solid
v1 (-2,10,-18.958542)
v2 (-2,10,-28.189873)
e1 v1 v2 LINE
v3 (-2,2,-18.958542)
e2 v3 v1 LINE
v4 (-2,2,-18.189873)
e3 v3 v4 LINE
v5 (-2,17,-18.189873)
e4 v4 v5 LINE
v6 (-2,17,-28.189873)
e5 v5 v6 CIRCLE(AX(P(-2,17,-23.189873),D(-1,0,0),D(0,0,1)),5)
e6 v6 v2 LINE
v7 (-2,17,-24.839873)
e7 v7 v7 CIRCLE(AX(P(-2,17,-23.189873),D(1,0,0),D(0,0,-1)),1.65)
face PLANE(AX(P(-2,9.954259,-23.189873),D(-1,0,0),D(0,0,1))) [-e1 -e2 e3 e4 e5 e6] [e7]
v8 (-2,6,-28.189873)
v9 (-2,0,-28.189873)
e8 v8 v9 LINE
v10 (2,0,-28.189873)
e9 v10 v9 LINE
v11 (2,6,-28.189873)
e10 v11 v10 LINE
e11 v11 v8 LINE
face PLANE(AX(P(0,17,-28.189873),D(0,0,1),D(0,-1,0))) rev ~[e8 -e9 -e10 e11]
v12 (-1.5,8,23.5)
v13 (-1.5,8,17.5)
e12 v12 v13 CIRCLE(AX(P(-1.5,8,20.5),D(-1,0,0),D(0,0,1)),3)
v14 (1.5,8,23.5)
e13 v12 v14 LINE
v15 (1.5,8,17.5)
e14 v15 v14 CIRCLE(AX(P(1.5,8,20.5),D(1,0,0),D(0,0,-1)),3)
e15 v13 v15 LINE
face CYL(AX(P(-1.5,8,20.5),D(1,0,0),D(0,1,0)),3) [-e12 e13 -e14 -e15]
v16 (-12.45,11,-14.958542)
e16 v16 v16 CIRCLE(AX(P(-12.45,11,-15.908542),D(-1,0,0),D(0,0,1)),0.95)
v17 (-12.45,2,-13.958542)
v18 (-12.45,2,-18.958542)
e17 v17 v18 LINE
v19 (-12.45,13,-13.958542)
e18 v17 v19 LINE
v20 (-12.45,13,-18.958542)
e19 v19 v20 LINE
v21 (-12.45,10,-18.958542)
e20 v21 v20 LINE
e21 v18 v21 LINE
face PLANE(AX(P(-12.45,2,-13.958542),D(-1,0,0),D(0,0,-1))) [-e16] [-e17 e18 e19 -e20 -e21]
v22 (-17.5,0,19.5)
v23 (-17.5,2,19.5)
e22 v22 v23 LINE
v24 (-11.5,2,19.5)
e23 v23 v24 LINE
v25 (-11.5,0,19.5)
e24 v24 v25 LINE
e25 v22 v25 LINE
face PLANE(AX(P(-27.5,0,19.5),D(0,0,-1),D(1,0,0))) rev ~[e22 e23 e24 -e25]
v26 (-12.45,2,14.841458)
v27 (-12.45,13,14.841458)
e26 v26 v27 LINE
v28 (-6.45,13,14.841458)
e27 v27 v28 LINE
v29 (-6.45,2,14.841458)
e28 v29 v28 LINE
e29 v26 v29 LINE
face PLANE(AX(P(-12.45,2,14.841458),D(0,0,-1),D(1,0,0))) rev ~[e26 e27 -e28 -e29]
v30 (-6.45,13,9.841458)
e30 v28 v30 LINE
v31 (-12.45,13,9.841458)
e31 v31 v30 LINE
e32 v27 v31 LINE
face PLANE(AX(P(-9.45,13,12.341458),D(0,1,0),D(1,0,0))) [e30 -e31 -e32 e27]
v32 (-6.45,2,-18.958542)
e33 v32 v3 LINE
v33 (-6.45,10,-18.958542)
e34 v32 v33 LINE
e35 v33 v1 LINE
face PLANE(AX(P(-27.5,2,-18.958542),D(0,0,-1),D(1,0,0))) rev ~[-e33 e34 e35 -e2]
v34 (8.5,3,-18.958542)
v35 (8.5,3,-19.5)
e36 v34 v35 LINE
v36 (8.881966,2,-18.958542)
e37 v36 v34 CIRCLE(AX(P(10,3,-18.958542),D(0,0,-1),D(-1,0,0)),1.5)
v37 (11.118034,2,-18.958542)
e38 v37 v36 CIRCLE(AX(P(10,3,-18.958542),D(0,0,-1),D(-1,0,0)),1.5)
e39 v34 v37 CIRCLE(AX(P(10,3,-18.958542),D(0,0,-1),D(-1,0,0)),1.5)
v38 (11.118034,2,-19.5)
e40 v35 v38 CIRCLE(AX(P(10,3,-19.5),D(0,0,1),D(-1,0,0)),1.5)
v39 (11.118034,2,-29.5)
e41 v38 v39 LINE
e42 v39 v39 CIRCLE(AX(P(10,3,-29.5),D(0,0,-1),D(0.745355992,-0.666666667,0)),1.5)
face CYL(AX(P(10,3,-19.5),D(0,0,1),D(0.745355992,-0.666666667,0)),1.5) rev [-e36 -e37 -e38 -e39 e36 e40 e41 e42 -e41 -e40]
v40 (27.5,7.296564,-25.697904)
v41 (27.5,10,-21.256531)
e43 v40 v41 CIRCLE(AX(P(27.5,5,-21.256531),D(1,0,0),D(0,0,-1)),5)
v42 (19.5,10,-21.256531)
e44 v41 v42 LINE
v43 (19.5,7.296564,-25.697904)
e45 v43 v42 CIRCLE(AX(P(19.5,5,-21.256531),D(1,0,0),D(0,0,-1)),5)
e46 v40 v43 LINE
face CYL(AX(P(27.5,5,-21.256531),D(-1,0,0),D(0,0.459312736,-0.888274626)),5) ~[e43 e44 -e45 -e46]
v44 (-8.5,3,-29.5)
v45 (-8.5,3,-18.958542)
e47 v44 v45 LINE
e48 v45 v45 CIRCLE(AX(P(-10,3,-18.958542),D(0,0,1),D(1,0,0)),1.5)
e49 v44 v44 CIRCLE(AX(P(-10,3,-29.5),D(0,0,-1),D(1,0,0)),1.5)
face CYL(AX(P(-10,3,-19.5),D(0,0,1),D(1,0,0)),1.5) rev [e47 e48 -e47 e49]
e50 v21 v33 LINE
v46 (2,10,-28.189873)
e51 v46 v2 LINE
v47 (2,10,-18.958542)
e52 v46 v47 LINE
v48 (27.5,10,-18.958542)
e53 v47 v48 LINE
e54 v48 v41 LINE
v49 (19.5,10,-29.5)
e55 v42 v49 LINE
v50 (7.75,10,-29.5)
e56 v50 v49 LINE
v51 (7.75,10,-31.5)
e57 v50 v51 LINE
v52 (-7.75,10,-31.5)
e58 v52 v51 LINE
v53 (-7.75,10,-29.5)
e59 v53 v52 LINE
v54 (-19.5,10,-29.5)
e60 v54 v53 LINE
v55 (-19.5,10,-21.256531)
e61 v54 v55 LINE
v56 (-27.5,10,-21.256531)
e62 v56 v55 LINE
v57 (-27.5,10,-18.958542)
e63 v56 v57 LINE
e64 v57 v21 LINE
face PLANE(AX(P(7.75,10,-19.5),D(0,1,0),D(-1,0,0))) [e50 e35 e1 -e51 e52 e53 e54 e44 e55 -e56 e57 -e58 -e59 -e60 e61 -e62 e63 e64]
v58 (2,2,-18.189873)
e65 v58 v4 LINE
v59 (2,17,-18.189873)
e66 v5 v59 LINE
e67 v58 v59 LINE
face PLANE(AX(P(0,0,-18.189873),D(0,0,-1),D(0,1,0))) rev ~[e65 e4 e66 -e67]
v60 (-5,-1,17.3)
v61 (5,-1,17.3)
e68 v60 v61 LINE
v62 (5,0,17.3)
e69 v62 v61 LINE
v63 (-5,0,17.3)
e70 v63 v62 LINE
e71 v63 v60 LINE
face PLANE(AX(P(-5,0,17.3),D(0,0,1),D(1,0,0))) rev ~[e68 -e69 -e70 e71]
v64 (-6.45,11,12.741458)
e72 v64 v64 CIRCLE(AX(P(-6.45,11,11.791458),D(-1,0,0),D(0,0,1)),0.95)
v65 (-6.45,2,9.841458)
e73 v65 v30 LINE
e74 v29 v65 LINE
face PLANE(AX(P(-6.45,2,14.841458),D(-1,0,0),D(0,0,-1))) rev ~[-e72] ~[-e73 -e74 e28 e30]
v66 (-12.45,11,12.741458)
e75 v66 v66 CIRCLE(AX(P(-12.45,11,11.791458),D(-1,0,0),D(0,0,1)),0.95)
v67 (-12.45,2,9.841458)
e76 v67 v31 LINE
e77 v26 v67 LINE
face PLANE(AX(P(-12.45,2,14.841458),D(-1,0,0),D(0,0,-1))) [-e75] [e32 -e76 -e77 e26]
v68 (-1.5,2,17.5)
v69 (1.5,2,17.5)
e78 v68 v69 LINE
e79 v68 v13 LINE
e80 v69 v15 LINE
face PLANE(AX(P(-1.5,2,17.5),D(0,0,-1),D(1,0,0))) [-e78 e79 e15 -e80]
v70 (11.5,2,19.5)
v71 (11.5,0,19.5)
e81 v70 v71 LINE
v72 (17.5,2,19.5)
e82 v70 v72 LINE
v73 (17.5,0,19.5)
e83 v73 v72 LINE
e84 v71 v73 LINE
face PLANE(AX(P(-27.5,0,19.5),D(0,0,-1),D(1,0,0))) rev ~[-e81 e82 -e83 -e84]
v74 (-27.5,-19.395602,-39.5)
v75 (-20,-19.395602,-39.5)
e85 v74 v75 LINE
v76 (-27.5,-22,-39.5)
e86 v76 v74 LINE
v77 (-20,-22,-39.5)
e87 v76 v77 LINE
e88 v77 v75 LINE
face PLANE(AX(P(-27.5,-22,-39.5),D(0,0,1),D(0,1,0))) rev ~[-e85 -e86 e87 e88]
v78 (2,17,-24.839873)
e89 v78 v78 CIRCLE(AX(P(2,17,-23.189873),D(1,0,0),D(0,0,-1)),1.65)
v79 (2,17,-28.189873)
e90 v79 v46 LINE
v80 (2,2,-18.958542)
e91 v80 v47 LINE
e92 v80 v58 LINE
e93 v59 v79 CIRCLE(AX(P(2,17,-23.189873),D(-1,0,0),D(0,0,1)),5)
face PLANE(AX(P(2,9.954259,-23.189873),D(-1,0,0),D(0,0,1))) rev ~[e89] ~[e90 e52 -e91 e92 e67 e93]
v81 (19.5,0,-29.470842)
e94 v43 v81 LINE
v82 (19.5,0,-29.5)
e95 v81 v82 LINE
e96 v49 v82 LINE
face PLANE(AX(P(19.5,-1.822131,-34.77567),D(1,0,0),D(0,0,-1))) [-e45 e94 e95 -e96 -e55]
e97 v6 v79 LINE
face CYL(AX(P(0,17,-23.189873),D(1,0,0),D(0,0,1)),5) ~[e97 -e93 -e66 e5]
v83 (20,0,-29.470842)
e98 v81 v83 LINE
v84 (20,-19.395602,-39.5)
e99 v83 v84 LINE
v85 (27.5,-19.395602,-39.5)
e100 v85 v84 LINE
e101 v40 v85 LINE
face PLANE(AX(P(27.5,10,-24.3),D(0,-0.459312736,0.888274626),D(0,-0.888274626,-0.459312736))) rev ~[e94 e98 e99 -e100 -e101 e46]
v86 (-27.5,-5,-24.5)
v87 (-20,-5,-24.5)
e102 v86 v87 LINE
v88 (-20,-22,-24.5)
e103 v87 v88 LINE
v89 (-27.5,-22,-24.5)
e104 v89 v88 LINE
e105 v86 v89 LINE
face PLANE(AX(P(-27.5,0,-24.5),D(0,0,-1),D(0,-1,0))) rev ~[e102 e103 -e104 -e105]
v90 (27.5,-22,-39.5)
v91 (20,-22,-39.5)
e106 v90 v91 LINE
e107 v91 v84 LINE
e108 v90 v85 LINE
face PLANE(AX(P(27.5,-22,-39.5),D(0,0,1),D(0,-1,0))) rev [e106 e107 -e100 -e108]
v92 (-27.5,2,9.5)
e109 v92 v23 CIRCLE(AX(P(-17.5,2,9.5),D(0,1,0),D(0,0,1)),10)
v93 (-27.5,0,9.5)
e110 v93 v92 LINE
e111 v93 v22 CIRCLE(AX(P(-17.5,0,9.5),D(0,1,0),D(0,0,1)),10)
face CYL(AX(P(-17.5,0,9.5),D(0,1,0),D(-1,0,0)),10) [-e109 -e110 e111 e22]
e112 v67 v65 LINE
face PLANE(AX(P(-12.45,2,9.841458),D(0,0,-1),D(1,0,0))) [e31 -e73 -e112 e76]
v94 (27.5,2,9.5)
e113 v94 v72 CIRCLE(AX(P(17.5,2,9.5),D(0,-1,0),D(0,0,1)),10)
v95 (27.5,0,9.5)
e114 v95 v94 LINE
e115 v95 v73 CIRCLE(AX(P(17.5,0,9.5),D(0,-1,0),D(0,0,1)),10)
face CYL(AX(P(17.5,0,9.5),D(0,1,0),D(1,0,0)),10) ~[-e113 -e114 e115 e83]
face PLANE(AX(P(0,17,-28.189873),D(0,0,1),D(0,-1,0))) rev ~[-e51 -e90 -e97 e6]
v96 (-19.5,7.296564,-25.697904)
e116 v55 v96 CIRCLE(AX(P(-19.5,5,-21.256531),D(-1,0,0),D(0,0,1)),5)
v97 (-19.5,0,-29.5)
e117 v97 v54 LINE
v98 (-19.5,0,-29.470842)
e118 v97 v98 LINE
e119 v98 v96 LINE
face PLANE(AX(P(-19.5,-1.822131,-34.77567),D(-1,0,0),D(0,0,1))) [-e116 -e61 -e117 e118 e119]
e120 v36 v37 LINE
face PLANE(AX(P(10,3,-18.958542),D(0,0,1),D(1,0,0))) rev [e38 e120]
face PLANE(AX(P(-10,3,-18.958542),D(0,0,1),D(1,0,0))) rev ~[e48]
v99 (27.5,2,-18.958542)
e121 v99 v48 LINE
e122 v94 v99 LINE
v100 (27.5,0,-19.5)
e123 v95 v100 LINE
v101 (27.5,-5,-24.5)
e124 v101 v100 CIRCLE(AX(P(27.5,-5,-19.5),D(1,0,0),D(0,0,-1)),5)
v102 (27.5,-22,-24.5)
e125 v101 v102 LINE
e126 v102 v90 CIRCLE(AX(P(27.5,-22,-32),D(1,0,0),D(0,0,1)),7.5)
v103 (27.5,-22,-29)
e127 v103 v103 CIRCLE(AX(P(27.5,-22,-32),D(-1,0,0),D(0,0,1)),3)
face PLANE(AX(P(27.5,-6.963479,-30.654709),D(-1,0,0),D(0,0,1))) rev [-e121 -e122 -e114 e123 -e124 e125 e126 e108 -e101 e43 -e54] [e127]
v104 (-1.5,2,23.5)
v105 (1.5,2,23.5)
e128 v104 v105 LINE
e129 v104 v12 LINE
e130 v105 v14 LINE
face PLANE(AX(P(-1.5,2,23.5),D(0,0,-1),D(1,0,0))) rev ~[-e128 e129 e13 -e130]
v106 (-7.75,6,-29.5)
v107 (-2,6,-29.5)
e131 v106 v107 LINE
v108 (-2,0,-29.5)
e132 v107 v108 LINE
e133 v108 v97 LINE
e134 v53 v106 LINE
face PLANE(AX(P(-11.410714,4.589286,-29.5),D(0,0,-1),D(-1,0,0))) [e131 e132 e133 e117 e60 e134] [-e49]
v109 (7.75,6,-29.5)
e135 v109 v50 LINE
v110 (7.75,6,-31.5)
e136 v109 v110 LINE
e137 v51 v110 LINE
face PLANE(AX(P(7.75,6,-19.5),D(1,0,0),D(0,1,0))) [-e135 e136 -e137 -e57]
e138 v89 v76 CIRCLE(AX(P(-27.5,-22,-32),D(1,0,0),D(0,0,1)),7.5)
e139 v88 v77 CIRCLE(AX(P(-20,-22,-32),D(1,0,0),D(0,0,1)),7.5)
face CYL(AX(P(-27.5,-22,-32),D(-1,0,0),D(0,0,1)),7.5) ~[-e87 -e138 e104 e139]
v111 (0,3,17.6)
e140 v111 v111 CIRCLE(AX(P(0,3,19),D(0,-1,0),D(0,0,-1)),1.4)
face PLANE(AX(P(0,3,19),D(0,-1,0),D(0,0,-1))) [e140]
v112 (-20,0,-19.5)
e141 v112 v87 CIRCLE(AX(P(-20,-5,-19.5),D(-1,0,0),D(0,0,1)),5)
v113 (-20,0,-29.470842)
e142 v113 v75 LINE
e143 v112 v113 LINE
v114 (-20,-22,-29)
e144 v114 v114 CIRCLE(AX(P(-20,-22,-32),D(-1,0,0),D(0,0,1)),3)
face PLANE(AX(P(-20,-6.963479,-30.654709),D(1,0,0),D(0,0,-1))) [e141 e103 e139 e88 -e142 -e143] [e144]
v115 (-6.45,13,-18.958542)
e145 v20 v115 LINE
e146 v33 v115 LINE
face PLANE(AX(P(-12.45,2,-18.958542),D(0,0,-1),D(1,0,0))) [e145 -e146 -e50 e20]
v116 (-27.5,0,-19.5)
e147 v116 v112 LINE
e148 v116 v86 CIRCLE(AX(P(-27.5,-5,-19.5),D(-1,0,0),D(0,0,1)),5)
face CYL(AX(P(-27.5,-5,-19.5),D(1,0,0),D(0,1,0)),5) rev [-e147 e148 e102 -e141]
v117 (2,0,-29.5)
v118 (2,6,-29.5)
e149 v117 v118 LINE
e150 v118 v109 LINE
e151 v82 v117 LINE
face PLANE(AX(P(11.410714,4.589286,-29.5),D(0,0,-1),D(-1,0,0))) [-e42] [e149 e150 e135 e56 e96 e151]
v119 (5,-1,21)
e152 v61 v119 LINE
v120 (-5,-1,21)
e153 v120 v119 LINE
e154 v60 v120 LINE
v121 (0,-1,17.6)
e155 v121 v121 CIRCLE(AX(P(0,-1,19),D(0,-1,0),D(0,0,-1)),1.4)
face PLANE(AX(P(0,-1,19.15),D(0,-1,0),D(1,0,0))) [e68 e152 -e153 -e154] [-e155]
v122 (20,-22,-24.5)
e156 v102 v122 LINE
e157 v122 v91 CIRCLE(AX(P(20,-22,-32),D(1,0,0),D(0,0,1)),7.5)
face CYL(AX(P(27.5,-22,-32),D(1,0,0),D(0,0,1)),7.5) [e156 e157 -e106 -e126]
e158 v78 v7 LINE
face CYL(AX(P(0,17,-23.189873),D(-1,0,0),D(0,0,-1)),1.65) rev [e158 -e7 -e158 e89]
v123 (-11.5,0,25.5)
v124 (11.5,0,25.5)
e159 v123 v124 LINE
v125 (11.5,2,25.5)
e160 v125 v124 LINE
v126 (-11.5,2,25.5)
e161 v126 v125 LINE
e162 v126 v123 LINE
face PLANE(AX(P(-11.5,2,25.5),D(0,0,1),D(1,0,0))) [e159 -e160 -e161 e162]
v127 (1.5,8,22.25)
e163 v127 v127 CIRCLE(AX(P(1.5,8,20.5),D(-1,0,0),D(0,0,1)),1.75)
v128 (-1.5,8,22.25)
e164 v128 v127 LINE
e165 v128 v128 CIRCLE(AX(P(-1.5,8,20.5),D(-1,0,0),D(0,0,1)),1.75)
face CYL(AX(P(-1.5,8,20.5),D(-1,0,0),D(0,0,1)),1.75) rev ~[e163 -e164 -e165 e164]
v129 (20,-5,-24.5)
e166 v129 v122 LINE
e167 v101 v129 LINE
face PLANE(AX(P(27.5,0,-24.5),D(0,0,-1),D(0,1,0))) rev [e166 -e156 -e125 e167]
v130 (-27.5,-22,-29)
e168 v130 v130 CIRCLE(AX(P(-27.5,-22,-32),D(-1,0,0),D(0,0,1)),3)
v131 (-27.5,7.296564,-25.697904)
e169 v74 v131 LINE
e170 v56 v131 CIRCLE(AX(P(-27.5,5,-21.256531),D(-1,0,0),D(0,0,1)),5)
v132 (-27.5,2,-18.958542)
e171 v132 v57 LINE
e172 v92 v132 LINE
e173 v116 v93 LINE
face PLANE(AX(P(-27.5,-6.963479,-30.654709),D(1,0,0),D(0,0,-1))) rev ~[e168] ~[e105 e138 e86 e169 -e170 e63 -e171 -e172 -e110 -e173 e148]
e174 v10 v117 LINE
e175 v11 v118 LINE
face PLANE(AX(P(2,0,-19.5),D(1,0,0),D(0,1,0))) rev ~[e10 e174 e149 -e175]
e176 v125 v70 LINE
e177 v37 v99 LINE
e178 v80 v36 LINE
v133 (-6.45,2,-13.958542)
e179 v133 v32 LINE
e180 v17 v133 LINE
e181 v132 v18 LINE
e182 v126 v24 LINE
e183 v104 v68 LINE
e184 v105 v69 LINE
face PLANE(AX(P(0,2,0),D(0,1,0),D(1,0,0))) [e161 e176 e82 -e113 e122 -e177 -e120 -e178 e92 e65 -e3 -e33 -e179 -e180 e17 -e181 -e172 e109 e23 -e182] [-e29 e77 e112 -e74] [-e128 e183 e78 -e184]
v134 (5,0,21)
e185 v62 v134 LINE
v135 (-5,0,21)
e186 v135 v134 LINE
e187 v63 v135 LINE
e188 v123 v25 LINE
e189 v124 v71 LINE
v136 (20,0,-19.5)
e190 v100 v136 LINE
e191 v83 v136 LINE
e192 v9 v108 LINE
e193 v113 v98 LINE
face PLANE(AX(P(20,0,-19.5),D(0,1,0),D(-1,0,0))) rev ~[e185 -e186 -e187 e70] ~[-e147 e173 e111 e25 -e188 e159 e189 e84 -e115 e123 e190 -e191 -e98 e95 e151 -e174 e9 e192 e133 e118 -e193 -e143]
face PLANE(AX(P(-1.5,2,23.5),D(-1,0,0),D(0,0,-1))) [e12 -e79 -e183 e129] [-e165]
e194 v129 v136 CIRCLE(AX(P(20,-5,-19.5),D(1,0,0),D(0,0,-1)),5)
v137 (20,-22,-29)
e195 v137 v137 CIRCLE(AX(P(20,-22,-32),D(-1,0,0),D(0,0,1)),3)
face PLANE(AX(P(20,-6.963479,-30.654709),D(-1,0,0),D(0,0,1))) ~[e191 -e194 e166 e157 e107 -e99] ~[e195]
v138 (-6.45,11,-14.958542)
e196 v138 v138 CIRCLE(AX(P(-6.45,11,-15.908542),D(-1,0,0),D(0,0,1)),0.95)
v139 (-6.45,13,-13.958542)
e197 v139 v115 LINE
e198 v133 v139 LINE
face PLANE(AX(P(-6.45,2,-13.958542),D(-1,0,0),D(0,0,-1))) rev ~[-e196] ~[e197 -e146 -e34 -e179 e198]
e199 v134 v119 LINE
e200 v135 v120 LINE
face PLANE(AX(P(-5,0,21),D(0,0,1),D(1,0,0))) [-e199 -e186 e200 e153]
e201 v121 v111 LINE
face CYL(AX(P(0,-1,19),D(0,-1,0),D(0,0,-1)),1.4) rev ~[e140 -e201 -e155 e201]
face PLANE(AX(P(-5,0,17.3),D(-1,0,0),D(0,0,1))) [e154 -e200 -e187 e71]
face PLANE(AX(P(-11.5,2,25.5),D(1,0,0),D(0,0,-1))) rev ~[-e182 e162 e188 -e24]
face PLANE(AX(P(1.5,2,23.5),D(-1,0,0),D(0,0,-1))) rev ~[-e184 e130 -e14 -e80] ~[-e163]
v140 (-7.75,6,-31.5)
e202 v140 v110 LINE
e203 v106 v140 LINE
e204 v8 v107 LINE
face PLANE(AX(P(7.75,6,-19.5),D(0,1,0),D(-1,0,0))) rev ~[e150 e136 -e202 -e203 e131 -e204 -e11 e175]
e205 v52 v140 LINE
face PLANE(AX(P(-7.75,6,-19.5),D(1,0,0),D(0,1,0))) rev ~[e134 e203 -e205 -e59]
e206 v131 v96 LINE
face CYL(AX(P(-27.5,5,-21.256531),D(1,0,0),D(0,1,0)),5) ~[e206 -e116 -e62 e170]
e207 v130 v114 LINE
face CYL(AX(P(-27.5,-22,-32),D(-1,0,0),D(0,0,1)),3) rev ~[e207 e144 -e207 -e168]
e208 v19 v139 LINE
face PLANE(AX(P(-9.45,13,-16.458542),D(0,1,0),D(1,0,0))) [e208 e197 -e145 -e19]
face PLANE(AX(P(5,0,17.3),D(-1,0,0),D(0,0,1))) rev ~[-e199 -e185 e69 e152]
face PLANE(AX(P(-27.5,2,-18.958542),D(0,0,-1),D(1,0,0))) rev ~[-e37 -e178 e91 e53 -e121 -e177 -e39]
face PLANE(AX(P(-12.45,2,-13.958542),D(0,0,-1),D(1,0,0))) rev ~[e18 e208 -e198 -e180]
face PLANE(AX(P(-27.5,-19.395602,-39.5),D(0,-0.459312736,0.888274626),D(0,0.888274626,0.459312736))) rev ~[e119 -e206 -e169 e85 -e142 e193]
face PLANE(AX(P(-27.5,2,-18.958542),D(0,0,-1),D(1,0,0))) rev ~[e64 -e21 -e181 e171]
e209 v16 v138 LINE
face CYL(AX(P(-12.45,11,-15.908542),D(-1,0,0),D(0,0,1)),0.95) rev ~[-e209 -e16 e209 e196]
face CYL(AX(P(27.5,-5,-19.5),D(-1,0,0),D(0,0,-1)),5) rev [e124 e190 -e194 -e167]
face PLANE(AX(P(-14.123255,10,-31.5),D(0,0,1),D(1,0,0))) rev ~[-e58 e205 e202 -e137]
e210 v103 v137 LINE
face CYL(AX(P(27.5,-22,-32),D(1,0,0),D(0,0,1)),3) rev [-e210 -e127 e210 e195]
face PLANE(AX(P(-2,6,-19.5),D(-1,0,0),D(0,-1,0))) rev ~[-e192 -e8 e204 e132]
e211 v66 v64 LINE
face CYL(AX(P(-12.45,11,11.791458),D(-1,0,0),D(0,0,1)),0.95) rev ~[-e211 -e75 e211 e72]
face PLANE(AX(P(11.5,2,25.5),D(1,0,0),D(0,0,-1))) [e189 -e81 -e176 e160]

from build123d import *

# Parameters (mm, degrees)
SKETCH_1_W          = 55
SKETCH_1_H          = 39
EXTRUDE_1_DEPTH     = 2
SKETCH_2_W          = 23
SKETCH_2_H          = 6
EXTRUDE_2_DEPTH     = 2
SKETCH_3_W          = 6
SKETCH_3_H          = 5
EXTRUDE_3_DEPTH     = 11
SKETCH_5_R          = 0.95
CUT_EXTRUDE_1_DEPTH = 11
SKETCH_6_W          = 55
SKETCH_6_H          = 0.541458129
EXTRUDE_4_DEPTH     = 8
SKETCH_8_R          = 1.65
EXTRUDE_6_DEPTH     = 2
SKETCH_10_W         = 3
SKETCH_10_H         = 6
EXTRUDE_7_DEPTH     = 9
SKETCH_11_R         = 1.5
CUT_EXTRUDE_3_DEPTH = 13
SKETCH_12_R         = 3
EXTRUDE_8_DEPTH     = 7.5
SKETCH_13_W         = 10
SKETCH_13_H         = 3.7
EXTRUDE_9_DEPTH     = 1
FILLET_3_RADIUS     = 3
FILLET_3_LENGTH     = 3
SKETCH_15_R         = 1.75
CUT_EXTRUDE_5_DEPTH = 23
SKETCH_16_W         = 15.5
SKETCH_16_H         = 4
EXTRUDE_10_DEPTH    = 20
SKETCH_17_R         = 1.5
EXTRUDE_11_DEPTH    = 10
FILLET_4_R          = 10
SKETCH_18_W         = 26.564734734
SKETCH_18_H         = 10.454508508
CUT_EXTRUDE_6_DEPTH = 10
CUT_EXTRUDE_7_DEPTH = 8
CUT_EXTRUDE_8_DEPTH = 8
FILLET_6_R          = 5
SKETCH_21_R         = 1.4
CUT_EXTRUDE_9_DEPTH = 4
FILLET_7_R          = 10


with BuildPart() as part:
    # 草图1 → 凸台-拉伸1 (new body)
    with BuildSketch(Plane(origin=(0, 0, 0), x_dir=(1, 0, 0), z_dir=(0, 1, 0))):
        Rectangle(SKETCH_1_W, SKETCH_1_H)
    extrude(amount=EXTRUDE_1_DEPTH)

    # 草图2 → 凸台-拉伸2 (add)
    with BuildSketch(Plane(origin=(0, 2, 0), x_dir=(1, 0, 0), z_dir=(0, 1, 0))):
        with Locations((0, -22.5)):
            Rectangle(SKETCH_2_W, SKETCH_2_H)
    extrude(amount=-EXTRUDE_2_DEPTH)

    # 草图3 → 凸台-拉伸3 (add)
    with BuildSketch(Plane(origin=(0, 2, 0), x_dir=(1, 0, 0), z_dir=(0, 1, 0))):
        with Locations((-9.45, -12.341458129)):
            Rectangle(SKETCH_3_W, SKETCH_3_H)
        with Locations((-9.45, 16.458541871)):
            Rectangle(SKETCH_3_W, SKETCH_3_H)
    extrude(amount=EXTRUDE_3_DEPTH)

    # 草图5 → 切除-拉伸1 (cut)
    with BuildSketch(Plane.ZY.offset(12.45)):
        with Locations((-15.908541871, 11)):
            Circle(SKETCH_5_R)
        with Locations((11.791458129, 11)):
            Circle(SKETCH_5_R)
    extrude(amount=-CUT_EXTRUDE_1_DEPTH, mode=Mode.SUBTRACT)

    # 草图6 → 凸台-拉伸4 (add)
    with BuildSketch(Plane(origin=(0, 2, 0), x_dir=(1, 0, 0), z_dir=(0, 1, 0))):
        with Locations((0, 19.229270936)):
            Rectangle(SKETCH_6_W, SKETCH_6_H)
    extrude(amount=EXTRUDE_4_DEPTH)

    # 草图8 → 凸台-拉伸6 (add, symmetric)
    with BuildSketch(Plane(origin=(0, 0, 0), x_dir=(0, 0, -1), z_dir=(1, 0, 0))):
        with BuildLine():
            Line((28.189872998, 17), (28.189872998, 0))
            Line((28.189872998, 0), (18.189872998, 0))
            Line((18.189872998, 0), (18.189872998, 17))
            ThreePointArc((18.189872998, 17), (23.189872998, 22), (28.189872998, 17))
        make_face()
        with Locations((23.189872998, 17)):
            Circle(SKETCH_8_R, mode=Mode.SUBTRACT)
    extrude(amount=EXTRUDE_6_DEPTH, both=True)

    # 草图10 → 凸台-拉伸7 (add)
    with BuildSketch(Plane(origin=(0, 2, 0), x_dir=(1, 0, 0), z_dir=(0, 1, 0))):
        with Locations((0, -20.5)):
            Rectangle(SKETCH_10_W, SKETCH_10_H)
    extrude(amount=EXTRUDE_7_DEPTH)

    # 草图11 → 切除-拉伸3 (cut)
    with BuildSketch(Plane.XY.offset(-18.958541871)):
        with Locations((-10, 3)):
            Circle(SKETCH_11_R)
    cut_extrude_3 = extrude(amount=-CUT_EXTRUDE_3_DEPTH, mode=Mode.SUBTRACT)

    # 草图12 → 凸台-拉伸8 (add)
    with BuildSketch(Plane.ZY.offset(27.5)):
        with BuildLine():
            Line((-39.5, -22), (-39.5, 10))
            Line((-39.5, 10), (-19.5, 10))
            Line((-19.5, 10), (-19.5, 0))
            Line((-19.5, 0), (-24.5, 0))
            Line((-24.5, 0), (-24.5, -22))
            ThreePointArc((-24.5, -22), (-32, -29.5), (-39.5, -22))
        make_face()
        with Locations((-32, -22)):
            Circle(SKETCH_12_R, mode=Mode.SUBTRACT)
    extrude_8 = extrude(amount=-EXTRUDE_8_DEPTH)

    # 草图13 → 凸台-拉伸9 (add)
    with BuildSketch(Plane.XZ):
        with Locations((0, 19.15)):
            Rectangle(SKETCH_13_W, SKETCH_13_H)
    extrude(amount=EXTRUDE_9_DEPTH)

    # 镜向1: 切除-拉伸3, 凸台-拉伸8 across plane
    add(cut_extrude_3.mirror(Plane(origin=(0, 0, 0), x_dir=(0, 0, 1), z_dir=(1, 0, 0))), mode=Mode.SUBTRACT)
    add(extrude_8.mirror(Plane(origin=(0, 0, 0), x_dir=(0, 0, 1), z_dir=(1, 0, 0))))

    # 圆角3: full round fillet: the end face becomes a half cylinder, R = half its width
    fillet_3_face = Plane((0, 11, 20.5), x_dir=(1, 0, 0), z_dir=(0, 1, 0))  # on the end face: x along it, z out of the body
    fillet_3_slab = fillet_3_face.offset(-FILLET_3_RADIUS / 2) * Box(FILLET_3_LENGTH, 2 * FILLET_3_RADIUS, FILLET_3_RADIUS, mode=Mode.PRIVATE)  # the body's end, R deep
    fillet_3_round = Plane((0, 8, 20.5), x_dir=(0, 1, 0), z_dir=(1, 0, 0)) * Cylinder(FILLET_3_RADIUS, FILLET_3_LENGTH, mode=Mode.PRIVATE)  # its axis R under the face
    add(fillet_3_slab - fillet_3_round, mode=Mode.SUBTRACT)

    # 草图15 → 切除-拉伸5 (cut)
    with BuildSketch(Plane.ZY.offset(1.5)):
        with Locations((20.5, 8)):
            Circle(SKETCH_15_R)
    extrude(amount=-CUT_EXTRUDE_5_DEPTH, mode=Mode.SUBTRACT)

    # 草图16 → 凸台-拉伸10 (add)
    with BuildSketch(Plane(origin=(0, 0, -19.5), x_dir=(-1, 0, 0), z_dir=(0, 0, -1))):
        with Locations((0, 8)):
            Rectangle(SKETCH_16_W, SKETCH_16_H)
    extrude(amount=EXTRUDE_10_DEPTH)

    # 草图17 → 凸台-拉伸11 (add)
    # profile 1 of 2: a face of its own
    with BuildSketch(Plane(origin=(0, 0, -19.5), x_dir=(-1, 0, 0), z_dir=(0, 0, -1))):
        Polygon((-20, 0), (-2, 0), (-2, 6), (-7.75, 6), (-7.75, 10), (-20, 10), align=None)
        with Locations(Location((-10, 3, 0), (0, 0, 221.810314896))):
            Circle(SKETCH_17_R, mode=Mode.SUBTRACT)
    # profile 2 of 2: a face of its own
    with BuildSketch(Plane(origin=(0, 0, -19.5), x_dir=(-1, 0, 0), z_dir=(0, 0, -1))):
        Polygon((7.75, 6), (2, 6), (2, 0), (20, 0), (20, 10), (7.75, 10), align=None)
        with Locations(Location((10, 3, 0), (0, 0, 180))):
            Circle(SKETCH_17_R, mode=Mode.SUBTRACT)
    extrude(amount=EXTRUDE_11_DEPTH)

    # 圆角4
    fillet_4_edges = [part.edges().sort_by_distance(p)[0] for p in [
        (23.75, 10, -39.5),
        (-23.75, 10, -39.5),
    ]]
    fillet(fillet_4_edges, radius=FILLET_4_R)

    # 草图18 → 切除-拉伸6 (cut)
    with BuildSketch(Plane(origin=(0, 10, 0), x_dir=(1, 0, 0), z_dir=(0, 1, 0))):
        with Locations((-0.840887807, 36.727254254)):
            Rectangle(SKETCH_18_W, SKETCH_18_H)
    extrude(amount=-CUT_EXTRUDE_6_DEPTH, mode=Mode.SUBTRACT)

    # 草图19 → 切除-拉伸7 (cut)
    with BuildSketch(Plane(origin=(27.5, 0, 0), x_dir=(0, 0, -1), z_dir=(1, 0, 0))):
        Polygon((24.3, 10), (39.5, -19.395601839), (39.5, 10), align=None)
    extrude(amount=-CUT_EXTRUDE_7_DEPTH, mode=Mode.SUBTRACT)

    # 草图20 → 切除-拉伸8 (cut)
    with BuildSketch(Plane.ZY.offset(27.5)):
        Polygon((-24.3, 10), (-39.5, 10), (-39.5, -19.395601839), align=None)
    extrude(amount=-CUT_EXTRUDE_8_DEPTH, mode=Mode.SUBTRACT)

    # 圆角6
    fillet_6_edges = [part.edges().sort_by_distance(p)[0] for p in [
        (-23.75, 0, -24.5),
        (23.75, 0, -24.5),
        (23.5, 10, -24.3),
        (-23.5, 10, -24.3),
    ]]
    fillet(fillet_6_edges, radius=FILLET_6_R)

    # 草图21 → 切除-拉伸9 (cut)
    with BuildSketch(Plane.XZ.offset(1)):
        with Locations(Location((0, 19, 0), (0, 0, 270))):
            Circle(SKETCH_21_R)
    extrude(amount=-CUT_EXTRUDE_9_DEPTH, mode=Mode.SUBTRACT)

    # 圆角7
    fillet_7_edges = [part.edges().sort_by_distance(p)[0] for p in [
        (27.5, 1, 19.5),
        (-27.5, 1, 19.5),
    ]]
    fillet(fillet_7_edges, radius=FILLET_7_R)


solid = part.part
